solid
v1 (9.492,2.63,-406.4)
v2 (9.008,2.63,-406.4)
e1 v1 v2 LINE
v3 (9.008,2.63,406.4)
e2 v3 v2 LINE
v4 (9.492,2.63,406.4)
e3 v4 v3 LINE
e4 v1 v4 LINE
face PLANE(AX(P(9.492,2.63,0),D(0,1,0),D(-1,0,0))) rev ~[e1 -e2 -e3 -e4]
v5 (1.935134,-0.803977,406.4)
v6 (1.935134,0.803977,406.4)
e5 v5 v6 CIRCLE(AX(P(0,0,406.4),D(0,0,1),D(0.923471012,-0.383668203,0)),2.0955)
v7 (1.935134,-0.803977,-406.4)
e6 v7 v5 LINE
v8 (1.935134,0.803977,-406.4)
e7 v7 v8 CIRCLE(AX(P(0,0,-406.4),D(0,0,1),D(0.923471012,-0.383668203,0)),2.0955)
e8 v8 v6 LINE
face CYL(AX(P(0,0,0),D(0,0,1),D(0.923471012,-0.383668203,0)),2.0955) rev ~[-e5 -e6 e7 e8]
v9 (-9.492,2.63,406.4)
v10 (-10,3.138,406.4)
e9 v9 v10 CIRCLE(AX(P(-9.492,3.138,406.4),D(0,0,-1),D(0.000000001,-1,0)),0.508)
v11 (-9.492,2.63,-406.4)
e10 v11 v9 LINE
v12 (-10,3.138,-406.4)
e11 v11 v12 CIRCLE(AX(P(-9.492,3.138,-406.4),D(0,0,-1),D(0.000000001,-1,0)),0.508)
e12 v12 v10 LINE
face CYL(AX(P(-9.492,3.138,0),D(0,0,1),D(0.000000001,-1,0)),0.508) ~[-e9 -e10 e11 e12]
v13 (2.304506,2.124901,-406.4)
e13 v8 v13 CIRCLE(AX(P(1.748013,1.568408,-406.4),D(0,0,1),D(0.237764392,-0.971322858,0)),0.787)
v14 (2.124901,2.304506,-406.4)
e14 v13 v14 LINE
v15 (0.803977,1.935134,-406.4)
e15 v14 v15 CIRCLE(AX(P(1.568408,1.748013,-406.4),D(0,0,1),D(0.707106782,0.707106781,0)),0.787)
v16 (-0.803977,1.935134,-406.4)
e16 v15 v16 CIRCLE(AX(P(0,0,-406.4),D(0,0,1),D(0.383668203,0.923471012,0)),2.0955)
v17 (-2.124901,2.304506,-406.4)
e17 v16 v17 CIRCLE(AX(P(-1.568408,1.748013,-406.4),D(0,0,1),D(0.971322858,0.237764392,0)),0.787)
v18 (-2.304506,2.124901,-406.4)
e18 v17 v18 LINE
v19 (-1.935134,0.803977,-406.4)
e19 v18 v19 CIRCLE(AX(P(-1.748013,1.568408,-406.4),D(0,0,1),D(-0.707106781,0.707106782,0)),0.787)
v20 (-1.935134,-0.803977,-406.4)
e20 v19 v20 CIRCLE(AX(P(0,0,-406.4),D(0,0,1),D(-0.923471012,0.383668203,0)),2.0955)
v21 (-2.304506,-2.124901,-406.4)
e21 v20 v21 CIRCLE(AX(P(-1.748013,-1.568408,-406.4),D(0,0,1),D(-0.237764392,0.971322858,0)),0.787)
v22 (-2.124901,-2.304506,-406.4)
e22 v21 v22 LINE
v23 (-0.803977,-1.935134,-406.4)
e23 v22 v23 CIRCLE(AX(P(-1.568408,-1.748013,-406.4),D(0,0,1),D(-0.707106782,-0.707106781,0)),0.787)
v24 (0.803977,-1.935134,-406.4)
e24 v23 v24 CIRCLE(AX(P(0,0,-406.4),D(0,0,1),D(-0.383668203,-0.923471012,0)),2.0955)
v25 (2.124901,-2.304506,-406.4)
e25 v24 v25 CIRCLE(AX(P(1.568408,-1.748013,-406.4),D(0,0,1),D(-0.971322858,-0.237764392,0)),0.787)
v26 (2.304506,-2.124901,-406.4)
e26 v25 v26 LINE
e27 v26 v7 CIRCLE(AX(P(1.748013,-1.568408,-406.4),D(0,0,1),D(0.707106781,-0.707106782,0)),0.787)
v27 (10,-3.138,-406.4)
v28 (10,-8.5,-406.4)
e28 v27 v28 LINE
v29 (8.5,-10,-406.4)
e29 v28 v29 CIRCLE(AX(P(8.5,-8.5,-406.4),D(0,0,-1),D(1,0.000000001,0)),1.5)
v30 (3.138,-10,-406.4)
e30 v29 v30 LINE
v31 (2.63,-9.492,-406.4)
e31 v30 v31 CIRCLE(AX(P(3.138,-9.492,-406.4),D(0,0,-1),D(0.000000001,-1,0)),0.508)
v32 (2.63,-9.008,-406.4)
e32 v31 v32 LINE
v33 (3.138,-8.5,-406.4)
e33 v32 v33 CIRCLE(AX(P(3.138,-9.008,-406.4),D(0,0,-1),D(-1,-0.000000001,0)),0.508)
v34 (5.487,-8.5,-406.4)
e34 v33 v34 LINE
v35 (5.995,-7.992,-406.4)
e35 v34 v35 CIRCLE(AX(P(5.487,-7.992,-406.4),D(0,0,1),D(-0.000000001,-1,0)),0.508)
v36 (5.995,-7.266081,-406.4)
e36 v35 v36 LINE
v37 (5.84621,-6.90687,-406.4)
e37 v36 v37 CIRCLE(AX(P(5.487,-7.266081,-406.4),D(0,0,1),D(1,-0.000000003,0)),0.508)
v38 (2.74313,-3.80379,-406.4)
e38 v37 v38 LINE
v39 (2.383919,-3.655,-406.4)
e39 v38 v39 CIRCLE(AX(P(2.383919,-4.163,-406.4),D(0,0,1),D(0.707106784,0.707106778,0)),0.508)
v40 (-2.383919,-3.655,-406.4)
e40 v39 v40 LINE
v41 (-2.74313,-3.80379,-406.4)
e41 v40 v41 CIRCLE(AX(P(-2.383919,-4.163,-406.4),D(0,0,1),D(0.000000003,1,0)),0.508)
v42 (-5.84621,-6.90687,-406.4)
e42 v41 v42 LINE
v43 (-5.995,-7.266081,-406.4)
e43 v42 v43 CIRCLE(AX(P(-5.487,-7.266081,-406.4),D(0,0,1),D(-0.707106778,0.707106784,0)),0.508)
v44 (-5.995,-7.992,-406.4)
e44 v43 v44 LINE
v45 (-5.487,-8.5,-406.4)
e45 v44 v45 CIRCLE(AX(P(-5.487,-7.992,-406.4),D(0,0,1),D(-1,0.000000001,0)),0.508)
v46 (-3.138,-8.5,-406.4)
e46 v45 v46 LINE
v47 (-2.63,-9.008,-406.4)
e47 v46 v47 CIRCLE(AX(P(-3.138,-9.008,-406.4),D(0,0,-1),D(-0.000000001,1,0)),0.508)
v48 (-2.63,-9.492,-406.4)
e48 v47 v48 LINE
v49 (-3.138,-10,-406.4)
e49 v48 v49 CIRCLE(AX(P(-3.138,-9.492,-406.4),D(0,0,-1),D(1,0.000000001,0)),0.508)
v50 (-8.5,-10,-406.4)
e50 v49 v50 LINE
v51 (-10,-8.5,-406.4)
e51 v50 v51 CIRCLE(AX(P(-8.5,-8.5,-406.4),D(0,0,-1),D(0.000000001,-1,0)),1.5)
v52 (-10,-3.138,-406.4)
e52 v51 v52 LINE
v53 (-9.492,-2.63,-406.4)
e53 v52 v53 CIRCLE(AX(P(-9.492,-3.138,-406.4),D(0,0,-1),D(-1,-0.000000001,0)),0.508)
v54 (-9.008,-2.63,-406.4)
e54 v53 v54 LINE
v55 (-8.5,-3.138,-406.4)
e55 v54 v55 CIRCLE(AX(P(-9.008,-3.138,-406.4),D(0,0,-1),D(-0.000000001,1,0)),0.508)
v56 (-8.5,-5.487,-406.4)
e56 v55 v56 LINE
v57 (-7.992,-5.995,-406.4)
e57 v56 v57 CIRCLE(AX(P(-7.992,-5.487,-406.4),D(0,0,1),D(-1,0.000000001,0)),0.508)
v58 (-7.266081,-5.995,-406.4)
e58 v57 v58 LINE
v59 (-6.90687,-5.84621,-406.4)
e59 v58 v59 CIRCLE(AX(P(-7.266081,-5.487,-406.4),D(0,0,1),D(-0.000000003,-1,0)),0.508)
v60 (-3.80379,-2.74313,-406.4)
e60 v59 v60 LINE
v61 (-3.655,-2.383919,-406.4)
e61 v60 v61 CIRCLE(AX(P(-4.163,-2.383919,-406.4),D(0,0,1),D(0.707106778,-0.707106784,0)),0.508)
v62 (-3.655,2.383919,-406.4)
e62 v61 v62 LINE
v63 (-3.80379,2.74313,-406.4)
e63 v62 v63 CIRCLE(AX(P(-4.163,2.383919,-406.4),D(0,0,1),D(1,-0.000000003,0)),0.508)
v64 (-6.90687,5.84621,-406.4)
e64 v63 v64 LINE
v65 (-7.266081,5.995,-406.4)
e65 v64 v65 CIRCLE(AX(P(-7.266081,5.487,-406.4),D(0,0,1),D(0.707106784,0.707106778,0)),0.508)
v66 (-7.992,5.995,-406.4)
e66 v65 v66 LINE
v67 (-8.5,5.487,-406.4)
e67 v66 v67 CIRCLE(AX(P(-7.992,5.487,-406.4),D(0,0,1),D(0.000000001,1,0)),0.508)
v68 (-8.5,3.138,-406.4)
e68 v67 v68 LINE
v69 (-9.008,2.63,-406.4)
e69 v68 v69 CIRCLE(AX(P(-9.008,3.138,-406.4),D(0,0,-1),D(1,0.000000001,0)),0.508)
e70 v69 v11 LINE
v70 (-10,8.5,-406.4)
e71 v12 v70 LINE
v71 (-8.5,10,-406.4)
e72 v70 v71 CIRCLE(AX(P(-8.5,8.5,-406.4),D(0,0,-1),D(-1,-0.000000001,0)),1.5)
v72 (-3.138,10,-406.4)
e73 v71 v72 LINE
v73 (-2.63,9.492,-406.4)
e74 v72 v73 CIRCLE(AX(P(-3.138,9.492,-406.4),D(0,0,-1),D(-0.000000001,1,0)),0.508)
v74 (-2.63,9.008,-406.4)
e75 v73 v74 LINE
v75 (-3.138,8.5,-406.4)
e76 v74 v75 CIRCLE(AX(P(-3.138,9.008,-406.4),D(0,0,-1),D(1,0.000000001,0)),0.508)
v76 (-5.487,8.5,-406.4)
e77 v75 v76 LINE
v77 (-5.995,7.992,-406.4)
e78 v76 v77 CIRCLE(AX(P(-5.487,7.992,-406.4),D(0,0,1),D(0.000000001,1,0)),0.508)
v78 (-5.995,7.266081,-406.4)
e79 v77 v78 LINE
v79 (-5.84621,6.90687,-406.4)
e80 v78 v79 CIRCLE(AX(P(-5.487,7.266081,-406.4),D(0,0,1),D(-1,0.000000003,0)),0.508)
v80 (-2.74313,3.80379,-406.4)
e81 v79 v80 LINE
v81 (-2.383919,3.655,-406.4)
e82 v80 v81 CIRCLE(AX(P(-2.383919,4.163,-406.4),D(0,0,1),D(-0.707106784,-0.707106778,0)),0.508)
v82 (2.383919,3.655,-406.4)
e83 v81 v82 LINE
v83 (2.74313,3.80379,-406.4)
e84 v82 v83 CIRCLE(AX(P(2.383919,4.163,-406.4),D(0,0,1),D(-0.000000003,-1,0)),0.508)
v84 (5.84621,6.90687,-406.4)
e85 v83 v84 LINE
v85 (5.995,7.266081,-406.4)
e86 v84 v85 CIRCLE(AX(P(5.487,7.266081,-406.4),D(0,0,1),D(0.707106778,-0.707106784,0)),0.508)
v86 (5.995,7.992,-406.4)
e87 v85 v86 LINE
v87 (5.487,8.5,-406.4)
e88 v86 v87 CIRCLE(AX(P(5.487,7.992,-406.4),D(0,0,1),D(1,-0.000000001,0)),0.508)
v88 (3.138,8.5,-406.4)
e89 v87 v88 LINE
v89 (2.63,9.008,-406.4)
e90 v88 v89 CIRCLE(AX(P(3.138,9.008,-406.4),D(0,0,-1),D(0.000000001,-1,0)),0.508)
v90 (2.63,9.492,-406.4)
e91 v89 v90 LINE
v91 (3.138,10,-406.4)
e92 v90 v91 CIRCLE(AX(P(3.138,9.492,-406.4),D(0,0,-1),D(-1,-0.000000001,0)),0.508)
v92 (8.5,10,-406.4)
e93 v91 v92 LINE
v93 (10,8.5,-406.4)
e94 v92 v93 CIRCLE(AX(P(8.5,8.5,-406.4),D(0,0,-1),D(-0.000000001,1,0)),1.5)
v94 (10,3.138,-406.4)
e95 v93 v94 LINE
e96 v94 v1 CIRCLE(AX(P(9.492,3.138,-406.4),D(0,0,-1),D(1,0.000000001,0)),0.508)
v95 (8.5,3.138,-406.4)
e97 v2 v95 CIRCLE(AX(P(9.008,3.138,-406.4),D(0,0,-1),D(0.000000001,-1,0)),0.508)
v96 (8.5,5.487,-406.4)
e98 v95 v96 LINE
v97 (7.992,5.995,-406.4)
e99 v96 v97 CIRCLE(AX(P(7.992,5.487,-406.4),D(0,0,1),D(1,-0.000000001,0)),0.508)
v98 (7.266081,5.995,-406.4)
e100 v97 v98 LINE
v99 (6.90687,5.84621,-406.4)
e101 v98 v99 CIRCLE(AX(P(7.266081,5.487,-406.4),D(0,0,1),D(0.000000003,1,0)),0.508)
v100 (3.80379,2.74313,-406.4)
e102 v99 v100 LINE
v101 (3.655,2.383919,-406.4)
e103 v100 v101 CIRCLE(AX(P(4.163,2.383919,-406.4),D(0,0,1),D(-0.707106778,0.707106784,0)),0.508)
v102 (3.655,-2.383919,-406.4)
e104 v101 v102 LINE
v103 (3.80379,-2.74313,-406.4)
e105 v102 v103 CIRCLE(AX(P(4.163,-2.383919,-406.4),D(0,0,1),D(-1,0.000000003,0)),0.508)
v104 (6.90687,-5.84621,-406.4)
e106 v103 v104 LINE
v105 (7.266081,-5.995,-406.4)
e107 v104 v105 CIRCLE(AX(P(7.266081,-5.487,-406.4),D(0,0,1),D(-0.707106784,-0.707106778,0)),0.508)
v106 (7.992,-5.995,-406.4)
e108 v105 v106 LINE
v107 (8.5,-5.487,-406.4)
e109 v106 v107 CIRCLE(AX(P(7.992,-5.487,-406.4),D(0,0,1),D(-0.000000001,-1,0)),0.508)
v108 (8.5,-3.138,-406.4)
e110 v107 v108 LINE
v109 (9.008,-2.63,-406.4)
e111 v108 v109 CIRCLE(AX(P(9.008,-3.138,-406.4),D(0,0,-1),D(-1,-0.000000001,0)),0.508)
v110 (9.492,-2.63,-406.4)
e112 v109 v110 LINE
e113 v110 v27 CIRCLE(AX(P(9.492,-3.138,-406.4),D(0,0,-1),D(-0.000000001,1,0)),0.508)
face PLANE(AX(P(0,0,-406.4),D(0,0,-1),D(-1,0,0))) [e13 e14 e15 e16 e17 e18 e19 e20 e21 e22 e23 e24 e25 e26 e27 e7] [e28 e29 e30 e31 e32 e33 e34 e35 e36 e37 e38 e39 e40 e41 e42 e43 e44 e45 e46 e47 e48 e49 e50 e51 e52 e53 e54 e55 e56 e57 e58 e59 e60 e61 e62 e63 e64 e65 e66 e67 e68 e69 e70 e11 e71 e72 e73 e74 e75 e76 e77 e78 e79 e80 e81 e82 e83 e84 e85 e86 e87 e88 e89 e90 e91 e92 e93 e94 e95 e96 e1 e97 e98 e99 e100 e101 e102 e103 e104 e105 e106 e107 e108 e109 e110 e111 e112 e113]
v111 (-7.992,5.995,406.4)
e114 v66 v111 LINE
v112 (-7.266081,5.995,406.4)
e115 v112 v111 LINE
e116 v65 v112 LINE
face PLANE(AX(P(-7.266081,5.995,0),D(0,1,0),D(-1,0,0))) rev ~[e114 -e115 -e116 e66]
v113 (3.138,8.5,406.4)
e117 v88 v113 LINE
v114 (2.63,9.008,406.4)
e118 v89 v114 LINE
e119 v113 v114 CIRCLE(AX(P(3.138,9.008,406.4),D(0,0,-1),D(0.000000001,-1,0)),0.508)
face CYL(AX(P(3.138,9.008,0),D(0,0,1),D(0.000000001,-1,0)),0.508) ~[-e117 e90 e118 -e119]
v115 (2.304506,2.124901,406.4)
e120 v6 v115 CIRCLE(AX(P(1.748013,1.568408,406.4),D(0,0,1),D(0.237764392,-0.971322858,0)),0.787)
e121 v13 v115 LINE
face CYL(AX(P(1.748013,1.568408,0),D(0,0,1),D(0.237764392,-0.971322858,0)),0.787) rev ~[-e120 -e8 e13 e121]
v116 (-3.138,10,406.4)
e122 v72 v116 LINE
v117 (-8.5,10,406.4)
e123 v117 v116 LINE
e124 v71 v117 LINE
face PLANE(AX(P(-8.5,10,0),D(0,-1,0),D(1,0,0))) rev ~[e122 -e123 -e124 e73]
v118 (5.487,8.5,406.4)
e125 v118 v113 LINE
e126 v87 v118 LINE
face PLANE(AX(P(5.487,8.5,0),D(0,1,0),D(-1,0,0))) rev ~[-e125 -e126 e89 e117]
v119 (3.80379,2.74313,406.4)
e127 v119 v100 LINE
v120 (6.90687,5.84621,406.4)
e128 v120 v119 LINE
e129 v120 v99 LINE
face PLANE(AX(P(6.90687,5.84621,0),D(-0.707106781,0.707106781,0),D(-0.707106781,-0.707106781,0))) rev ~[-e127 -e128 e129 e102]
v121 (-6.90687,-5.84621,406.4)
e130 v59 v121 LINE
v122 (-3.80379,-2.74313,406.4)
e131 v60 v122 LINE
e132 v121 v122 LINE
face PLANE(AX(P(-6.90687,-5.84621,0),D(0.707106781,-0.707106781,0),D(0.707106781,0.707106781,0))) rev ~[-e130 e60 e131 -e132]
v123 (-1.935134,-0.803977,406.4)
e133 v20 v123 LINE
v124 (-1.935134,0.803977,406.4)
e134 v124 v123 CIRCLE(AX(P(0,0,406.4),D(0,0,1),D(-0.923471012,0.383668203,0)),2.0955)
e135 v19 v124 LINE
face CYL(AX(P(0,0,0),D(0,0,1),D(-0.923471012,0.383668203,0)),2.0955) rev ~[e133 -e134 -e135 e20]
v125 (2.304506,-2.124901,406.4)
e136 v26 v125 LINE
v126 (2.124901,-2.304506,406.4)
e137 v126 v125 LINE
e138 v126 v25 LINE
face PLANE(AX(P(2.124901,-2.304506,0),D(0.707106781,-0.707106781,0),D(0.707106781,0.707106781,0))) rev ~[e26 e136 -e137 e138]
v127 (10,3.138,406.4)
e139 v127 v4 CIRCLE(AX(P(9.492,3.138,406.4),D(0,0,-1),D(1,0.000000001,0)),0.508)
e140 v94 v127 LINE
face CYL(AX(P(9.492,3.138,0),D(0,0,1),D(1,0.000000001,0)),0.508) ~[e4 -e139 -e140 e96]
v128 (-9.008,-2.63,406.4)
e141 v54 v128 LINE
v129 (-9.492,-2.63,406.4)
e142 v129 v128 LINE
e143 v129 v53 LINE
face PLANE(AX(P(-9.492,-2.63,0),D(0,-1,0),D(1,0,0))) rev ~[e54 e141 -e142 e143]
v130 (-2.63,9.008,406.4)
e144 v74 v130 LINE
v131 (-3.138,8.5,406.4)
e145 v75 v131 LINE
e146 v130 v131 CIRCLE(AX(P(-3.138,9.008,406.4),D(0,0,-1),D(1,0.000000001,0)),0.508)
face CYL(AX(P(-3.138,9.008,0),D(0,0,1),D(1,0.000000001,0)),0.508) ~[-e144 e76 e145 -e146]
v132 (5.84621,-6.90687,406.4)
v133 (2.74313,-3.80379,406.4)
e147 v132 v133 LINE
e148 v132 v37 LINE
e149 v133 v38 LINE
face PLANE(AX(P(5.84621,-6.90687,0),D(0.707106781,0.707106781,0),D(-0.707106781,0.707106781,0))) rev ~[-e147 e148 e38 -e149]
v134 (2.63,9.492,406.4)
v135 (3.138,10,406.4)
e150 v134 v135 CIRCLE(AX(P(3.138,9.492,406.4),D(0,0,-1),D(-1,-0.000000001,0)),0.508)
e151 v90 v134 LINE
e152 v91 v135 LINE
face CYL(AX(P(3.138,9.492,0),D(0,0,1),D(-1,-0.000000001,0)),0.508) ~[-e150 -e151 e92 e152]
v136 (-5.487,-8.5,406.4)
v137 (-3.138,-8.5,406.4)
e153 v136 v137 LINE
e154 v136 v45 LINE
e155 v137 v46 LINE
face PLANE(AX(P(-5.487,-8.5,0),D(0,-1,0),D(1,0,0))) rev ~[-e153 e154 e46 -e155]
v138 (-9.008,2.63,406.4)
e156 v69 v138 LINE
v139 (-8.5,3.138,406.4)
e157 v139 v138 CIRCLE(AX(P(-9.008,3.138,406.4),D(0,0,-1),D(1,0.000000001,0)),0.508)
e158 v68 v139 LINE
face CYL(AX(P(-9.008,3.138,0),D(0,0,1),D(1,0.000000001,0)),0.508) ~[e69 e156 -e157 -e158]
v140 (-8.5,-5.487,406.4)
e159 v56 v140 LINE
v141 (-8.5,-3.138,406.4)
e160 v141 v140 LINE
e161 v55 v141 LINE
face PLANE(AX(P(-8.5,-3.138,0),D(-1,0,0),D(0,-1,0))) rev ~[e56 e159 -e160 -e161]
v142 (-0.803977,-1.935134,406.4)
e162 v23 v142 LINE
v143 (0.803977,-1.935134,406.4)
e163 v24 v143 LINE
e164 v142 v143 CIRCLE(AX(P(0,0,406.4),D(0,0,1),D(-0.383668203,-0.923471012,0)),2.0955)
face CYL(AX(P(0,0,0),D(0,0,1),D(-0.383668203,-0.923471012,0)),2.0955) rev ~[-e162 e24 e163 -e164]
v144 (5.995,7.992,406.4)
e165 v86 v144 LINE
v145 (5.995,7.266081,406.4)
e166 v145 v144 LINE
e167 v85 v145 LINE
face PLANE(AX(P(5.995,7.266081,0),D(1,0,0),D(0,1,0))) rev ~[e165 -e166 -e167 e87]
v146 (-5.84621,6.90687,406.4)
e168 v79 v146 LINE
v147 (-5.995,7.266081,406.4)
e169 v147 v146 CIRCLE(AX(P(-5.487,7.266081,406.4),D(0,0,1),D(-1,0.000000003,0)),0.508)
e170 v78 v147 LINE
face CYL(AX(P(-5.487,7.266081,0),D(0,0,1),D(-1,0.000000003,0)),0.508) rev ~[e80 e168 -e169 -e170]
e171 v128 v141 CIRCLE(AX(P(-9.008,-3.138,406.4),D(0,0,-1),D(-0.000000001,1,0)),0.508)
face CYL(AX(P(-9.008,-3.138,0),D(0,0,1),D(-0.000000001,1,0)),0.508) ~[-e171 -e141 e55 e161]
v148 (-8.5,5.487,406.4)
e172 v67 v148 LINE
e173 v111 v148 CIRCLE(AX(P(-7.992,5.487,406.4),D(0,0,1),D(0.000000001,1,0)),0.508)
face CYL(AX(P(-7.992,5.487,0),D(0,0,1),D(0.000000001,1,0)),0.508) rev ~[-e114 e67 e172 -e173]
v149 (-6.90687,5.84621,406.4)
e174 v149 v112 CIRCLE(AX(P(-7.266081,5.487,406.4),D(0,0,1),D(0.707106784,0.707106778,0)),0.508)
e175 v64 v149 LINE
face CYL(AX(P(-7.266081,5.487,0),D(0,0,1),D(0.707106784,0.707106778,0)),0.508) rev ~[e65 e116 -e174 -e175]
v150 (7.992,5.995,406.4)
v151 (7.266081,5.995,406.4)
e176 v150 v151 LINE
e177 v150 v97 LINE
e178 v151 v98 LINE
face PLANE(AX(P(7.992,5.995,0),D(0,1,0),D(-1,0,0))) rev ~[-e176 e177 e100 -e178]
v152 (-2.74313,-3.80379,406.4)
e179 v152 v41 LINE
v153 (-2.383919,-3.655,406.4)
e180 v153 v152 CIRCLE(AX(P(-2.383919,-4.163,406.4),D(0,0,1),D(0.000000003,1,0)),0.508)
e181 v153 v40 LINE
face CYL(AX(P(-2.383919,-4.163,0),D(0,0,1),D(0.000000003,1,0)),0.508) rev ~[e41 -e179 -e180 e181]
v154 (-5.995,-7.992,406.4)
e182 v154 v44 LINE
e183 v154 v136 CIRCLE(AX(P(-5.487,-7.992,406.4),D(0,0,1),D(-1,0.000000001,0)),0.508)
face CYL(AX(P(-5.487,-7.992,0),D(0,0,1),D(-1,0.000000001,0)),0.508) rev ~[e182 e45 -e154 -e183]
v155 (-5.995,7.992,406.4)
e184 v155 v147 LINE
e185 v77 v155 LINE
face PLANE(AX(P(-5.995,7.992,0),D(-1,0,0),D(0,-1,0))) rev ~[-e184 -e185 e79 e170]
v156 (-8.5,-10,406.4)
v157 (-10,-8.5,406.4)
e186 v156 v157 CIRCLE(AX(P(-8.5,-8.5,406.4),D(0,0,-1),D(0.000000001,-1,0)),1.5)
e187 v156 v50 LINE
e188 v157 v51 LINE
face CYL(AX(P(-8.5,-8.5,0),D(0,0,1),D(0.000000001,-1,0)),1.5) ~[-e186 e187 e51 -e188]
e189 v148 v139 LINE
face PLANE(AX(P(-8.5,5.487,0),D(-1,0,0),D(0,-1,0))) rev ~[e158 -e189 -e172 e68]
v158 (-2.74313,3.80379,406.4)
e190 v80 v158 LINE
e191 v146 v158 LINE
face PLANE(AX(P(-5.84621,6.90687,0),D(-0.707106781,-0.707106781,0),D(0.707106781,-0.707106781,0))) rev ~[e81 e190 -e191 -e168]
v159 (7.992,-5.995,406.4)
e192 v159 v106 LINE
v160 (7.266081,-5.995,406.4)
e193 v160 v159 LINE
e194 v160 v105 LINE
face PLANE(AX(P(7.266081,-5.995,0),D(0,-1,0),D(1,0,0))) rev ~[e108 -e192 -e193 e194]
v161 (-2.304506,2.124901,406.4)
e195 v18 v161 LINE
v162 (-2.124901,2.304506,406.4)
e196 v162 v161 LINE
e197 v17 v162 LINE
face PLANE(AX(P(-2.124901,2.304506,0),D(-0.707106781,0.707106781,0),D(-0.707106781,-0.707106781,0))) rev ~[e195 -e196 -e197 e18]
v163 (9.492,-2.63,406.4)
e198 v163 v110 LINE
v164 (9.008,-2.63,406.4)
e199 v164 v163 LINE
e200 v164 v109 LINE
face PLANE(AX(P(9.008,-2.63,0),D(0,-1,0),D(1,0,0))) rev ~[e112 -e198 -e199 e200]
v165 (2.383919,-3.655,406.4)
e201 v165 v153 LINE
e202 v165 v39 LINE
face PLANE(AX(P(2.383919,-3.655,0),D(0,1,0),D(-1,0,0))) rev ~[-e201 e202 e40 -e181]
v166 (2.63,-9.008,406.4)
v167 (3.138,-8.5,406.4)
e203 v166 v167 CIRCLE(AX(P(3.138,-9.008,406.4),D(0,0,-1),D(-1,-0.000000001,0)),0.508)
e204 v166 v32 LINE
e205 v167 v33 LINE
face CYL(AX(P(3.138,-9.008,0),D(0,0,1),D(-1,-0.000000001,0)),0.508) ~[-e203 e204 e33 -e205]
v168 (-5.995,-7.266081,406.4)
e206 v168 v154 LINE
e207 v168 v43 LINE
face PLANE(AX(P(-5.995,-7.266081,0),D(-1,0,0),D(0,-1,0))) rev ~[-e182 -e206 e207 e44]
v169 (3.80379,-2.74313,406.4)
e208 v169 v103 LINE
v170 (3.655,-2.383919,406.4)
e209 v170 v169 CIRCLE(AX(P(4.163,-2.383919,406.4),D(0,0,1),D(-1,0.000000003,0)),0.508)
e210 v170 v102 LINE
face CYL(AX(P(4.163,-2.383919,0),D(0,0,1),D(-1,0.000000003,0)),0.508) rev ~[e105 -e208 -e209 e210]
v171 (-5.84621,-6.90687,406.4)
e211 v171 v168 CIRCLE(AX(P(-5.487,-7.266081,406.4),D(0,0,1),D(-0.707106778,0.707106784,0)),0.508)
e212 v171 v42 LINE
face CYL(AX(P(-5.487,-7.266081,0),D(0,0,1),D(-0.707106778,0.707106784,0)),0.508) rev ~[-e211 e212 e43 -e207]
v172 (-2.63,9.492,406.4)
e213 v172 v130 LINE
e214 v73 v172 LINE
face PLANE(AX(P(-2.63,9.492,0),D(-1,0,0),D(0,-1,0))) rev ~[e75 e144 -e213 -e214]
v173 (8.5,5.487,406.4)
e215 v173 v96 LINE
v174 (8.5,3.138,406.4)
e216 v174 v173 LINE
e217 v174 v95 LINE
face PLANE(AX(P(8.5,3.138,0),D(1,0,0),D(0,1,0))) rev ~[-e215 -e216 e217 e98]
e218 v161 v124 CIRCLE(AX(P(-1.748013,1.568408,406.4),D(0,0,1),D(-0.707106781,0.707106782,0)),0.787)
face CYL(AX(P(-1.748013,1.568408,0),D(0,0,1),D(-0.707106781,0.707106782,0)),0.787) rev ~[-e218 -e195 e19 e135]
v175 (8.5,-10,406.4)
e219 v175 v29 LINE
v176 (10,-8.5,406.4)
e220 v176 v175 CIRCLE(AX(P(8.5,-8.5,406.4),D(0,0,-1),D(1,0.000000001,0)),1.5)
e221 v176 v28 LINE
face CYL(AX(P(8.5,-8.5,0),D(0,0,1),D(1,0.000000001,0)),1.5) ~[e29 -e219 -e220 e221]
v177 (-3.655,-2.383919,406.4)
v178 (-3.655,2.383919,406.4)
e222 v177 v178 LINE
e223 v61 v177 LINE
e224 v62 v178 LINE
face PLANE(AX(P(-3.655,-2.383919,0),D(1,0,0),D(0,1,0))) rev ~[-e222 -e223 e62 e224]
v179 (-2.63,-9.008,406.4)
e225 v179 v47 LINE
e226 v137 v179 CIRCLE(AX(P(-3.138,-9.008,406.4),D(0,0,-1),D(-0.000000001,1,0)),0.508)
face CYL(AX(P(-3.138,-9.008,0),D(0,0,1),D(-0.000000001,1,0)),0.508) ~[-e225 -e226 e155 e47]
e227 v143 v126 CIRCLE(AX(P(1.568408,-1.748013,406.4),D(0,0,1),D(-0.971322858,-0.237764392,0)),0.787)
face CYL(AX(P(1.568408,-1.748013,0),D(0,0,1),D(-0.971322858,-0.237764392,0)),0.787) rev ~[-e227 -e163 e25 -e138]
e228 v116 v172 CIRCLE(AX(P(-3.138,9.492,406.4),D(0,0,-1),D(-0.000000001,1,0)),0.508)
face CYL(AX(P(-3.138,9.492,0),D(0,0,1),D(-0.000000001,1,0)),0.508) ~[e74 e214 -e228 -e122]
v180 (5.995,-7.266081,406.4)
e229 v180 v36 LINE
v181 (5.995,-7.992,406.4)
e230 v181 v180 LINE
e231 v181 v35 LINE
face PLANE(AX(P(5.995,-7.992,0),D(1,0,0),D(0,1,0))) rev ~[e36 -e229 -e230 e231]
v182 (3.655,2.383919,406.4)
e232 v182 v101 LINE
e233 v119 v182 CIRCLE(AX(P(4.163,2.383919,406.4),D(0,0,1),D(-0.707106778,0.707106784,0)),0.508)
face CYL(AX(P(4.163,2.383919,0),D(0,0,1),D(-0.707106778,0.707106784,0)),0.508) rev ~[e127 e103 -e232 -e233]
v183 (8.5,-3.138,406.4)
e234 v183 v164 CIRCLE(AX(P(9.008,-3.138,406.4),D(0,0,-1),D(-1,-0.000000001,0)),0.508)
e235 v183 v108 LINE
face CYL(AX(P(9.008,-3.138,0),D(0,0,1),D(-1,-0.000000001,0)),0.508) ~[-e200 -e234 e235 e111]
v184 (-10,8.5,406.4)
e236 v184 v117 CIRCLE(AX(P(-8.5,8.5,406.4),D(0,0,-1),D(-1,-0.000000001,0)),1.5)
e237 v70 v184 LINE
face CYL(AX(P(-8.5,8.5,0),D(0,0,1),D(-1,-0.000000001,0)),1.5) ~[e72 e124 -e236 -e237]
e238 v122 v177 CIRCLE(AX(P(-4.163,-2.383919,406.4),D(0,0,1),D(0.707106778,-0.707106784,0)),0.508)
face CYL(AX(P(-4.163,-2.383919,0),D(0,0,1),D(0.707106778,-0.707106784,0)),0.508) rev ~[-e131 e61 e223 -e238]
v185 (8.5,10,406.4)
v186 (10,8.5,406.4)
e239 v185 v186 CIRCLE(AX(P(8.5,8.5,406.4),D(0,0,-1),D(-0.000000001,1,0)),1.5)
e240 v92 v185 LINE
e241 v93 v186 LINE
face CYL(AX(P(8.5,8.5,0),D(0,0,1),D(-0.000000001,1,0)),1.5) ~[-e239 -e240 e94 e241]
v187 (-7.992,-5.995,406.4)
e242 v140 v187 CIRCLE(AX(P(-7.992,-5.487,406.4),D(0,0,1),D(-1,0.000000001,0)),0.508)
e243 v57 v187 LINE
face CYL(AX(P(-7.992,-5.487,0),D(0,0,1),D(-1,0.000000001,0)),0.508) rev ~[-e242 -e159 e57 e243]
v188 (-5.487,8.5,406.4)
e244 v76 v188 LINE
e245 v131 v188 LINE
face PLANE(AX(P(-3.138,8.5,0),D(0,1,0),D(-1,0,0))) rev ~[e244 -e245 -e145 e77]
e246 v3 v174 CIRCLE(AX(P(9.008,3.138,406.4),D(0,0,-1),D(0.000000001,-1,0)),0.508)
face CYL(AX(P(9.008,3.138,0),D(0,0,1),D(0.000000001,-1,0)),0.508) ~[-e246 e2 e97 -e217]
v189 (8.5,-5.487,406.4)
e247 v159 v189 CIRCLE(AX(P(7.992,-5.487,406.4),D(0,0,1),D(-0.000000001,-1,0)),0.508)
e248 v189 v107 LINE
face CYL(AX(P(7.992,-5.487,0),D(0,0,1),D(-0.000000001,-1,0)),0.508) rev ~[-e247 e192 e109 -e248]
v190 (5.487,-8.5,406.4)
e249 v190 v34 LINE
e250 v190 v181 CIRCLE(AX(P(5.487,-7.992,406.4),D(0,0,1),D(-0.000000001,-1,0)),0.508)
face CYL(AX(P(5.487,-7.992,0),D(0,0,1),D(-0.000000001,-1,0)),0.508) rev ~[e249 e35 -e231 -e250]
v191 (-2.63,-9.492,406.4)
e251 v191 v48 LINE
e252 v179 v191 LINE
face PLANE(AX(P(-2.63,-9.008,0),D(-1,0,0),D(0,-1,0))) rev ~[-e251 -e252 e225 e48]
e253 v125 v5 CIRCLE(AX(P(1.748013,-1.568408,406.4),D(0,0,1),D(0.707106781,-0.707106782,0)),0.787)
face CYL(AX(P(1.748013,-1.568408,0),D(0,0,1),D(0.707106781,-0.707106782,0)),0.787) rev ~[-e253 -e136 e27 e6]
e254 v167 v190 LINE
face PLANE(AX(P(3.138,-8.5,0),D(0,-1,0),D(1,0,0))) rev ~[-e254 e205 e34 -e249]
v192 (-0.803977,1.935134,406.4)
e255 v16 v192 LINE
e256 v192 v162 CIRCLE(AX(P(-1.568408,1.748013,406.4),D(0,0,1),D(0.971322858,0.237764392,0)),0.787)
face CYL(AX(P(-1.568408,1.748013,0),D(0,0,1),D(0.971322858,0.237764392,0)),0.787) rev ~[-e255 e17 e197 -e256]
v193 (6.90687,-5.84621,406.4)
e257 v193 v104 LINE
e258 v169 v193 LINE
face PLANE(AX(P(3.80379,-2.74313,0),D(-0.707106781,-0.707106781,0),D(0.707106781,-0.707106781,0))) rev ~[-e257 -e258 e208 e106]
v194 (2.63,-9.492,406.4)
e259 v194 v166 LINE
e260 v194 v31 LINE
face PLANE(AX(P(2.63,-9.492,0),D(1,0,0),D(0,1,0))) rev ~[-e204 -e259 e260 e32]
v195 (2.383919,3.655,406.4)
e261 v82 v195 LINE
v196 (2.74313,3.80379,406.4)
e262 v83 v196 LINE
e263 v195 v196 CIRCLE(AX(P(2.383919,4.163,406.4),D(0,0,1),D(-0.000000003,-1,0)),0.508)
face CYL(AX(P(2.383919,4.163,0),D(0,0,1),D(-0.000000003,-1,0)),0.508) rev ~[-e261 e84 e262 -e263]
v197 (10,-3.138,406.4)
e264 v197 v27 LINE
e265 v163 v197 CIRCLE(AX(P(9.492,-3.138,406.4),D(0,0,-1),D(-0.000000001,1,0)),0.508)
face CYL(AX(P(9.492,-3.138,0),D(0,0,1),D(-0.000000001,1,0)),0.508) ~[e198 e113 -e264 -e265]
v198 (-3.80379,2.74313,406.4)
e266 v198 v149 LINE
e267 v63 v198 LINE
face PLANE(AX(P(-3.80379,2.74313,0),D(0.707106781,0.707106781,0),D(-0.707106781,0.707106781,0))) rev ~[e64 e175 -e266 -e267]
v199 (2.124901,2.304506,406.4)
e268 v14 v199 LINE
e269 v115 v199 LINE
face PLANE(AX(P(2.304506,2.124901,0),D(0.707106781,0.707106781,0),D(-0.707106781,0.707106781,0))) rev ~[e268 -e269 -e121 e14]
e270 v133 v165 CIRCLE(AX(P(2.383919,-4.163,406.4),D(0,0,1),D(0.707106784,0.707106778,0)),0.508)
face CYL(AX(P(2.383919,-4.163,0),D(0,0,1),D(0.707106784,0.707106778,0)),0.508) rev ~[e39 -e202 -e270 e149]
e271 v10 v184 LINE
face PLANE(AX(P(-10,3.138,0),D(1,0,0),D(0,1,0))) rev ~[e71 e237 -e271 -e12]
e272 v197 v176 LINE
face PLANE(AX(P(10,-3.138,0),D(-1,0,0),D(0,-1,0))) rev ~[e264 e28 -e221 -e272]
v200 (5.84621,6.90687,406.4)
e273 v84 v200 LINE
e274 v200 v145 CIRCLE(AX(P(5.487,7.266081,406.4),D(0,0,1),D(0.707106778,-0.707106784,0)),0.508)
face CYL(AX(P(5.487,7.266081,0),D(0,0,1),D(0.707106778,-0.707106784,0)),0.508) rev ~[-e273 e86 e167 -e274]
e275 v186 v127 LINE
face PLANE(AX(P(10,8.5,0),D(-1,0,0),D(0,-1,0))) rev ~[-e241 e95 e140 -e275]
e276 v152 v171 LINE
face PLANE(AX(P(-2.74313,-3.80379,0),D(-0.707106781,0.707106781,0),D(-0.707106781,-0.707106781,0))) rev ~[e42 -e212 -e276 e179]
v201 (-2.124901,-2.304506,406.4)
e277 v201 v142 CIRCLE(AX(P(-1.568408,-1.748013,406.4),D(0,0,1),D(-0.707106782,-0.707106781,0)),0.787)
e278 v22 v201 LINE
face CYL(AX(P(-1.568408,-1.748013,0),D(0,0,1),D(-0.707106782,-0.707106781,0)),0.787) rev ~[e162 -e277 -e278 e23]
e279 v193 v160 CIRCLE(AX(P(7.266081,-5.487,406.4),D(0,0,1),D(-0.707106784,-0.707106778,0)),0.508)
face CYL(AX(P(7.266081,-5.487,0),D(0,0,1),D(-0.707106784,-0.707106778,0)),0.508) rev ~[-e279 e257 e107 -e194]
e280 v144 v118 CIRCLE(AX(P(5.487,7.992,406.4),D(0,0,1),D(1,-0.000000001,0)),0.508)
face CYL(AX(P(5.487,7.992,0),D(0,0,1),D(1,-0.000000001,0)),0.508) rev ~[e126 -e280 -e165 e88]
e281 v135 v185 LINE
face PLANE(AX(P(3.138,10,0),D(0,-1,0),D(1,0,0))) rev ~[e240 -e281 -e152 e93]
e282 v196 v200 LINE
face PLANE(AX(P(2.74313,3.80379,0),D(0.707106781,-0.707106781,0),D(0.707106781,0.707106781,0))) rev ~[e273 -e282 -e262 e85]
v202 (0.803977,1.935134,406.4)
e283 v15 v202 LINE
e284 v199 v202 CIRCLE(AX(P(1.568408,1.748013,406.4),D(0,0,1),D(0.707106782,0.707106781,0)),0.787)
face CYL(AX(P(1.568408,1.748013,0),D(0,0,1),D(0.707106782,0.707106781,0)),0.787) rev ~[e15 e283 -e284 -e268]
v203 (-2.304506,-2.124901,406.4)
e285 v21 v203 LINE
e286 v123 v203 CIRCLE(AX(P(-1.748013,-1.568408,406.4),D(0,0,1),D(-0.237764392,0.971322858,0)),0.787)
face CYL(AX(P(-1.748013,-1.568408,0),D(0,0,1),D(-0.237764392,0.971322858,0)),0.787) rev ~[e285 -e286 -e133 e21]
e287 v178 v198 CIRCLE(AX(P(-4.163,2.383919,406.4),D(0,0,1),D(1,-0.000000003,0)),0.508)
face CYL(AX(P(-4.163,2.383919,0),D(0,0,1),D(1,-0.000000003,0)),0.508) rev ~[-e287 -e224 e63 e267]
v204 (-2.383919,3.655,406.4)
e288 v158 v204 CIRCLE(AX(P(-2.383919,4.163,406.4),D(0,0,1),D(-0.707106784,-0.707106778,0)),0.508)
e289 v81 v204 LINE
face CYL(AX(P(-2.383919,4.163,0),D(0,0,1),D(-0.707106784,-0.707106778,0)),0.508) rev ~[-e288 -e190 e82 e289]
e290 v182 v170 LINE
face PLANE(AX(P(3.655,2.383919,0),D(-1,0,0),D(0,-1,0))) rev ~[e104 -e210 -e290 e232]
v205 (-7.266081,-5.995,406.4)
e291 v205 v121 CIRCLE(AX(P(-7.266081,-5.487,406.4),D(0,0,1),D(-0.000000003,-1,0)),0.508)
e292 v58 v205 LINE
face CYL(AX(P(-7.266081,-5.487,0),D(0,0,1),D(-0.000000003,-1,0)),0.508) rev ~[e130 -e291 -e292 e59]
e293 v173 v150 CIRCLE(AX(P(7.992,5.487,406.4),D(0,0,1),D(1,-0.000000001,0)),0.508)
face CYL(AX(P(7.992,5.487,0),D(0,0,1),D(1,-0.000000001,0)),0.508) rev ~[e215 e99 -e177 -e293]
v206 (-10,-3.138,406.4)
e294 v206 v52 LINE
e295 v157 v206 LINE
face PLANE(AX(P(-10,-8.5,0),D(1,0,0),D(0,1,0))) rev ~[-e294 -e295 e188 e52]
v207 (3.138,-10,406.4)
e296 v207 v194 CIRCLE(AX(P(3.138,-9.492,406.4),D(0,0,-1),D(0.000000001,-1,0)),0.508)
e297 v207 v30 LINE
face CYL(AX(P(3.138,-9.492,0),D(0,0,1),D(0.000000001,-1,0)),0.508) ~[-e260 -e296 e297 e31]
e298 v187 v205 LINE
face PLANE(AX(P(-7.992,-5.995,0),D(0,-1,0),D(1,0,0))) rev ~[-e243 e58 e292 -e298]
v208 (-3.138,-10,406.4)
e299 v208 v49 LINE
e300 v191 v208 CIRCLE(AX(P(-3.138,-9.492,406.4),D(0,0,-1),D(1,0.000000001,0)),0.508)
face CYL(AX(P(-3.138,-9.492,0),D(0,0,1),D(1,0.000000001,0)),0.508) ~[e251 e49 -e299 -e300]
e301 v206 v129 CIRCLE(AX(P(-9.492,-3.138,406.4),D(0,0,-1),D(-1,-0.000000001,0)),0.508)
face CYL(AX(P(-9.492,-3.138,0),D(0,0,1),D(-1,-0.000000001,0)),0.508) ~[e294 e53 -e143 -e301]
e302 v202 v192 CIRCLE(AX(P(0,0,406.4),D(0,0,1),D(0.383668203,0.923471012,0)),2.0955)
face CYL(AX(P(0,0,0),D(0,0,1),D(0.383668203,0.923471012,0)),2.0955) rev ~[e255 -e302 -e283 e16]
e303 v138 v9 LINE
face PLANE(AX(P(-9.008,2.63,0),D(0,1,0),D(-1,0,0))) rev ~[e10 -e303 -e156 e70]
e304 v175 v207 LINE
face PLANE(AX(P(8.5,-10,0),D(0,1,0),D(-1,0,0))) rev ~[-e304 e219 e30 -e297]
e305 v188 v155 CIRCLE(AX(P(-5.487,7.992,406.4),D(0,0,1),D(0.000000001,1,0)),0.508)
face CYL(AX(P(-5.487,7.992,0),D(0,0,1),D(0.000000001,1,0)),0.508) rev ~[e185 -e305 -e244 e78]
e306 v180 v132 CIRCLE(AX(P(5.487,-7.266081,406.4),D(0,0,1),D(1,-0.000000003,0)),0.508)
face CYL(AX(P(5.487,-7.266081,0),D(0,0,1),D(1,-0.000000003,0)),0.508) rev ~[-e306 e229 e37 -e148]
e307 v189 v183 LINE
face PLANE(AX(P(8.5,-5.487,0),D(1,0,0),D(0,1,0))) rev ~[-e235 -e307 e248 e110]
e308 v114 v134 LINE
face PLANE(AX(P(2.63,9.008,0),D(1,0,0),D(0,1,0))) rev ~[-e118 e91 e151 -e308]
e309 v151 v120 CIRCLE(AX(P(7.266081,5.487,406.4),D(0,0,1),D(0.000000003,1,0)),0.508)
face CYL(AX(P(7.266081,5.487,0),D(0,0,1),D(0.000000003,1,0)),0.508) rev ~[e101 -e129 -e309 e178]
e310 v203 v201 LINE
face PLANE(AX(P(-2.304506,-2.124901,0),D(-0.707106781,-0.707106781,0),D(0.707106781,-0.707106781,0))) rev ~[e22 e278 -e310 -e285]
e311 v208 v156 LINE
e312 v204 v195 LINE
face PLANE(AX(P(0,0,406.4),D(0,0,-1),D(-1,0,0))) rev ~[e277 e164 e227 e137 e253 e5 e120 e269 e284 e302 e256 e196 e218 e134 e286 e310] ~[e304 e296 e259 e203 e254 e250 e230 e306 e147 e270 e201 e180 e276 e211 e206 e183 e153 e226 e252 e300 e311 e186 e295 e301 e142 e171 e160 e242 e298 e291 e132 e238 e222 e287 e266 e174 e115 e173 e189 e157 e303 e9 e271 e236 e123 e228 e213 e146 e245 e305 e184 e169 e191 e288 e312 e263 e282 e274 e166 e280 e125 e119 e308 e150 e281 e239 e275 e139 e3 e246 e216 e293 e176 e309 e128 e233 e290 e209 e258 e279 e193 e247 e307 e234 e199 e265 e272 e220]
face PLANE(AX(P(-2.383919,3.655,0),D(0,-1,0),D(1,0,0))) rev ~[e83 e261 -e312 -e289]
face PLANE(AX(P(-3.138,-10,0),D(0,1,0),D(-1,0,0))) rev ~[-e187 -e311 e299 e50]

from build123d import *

# Parameters (mm, degrees)
EXTRUDE1_DEPTH = 406.4


with BuildPart() as part:
    # Sketch1 → Extrude1 (new body, symmetric)
    with BuildSketch(Plane.XY):
        with BuildLine():
            Line((9.492, 2.63), (9.008, 2.63))
            ThreePointArc((9.008, 2.63), (8.648789755, 2.778789755), (8.5, 3.138))
            Line((8.5, 3.138), (8.5, 5.487))
            ThreePointArc((8.5, 5.487), (8.351210245, 5.846210245), (7.992, 5.995))
            Line((7.992, 5.995), (7.266080661, 5.995))
            ThreePointArc((7.266080661, 5.995), (7.071677478, 5.956330803), (6.906870417, 5.846210245))
            Line((6.906870417, 5.846210245), (3.803789755, 2.743129583))
            ThreePointArc((3.803789755, 2.743129583), (3.693669197, 2.578322522), (3.655, 2.383919339))
            Line((3.655, 2.383919339), (3.655, -2.383919339))
            ThreePointArc((3.655, -2.383919339), (3.693669197, -2.578322522), (3.803789755, -2.743129583))
            Line((3.803789755, -2.743129583), (6.906870417, -5.846210245))
            ThreePointArc((6.906870417, -5.846210245), (7.071677478, -5.956330803), (7.266080661, -5.995))
            Line((7.266080661, -5.995), (7.992, -5.995))
            ThreePointArc((7.992, -5.995), (8.351210245, -5.846210245), (8.5, -5.487))
            Line((8.5, -5.487), (8.5, -3.138))
            ThreePointArc((8.5, -3.138), (8.648789755, -2.778789755), (9.008, -2.63))
            Line((9.008, -2.63), (9.492, -2.63))
            ThreePointArc((9.492, -2.63), (9.851210245, -2.778789755), (10, -3.138))
            Line((10, -3.138), (10, -8.5))
            ThreePointArc((10, -8.5), (9.560660172, -9.560660172), (8.5, -10))
            Line((8.5, -10), (3.138, -10))
            ThreePointArc((3.138, -10), (2.778789755, -9.851210245), (2.63, -9.492))
            Line((2.63, -9.492), (2.63, -9.008))
            ThreePointArc((2.63, -9.008), (2.778789755, -8.648789755), (3.138, -8.5))
            Line((3.138, -8.5), (5.487, -8.5))
            ThreePointArc((5.487, -8.5), (5.846210245, -8.351210245), (5.995, -7.992))
            Line((5.995, -7.992), (5.995, -7.266080661))
            ThreePointArc((5.995, -7.266080661), (5.956330803, -7.071677478), (5.846210245, -6.906870417))
            Line((5.846210245, -6.906870417), (2.743129583, -3.803789755))
            ThreePointArc((2.743129583, -3.803789755), (2.578322522, -3.693669197), (2.383919339, -3.655))
            Line((2.383919339, -3.655), (-2.383919339, -3.655))
            ThreePointArc((-2.383919339, -3.655), (-2.578322522, -3.693669197), (-2.743129583, -3.803789755))
            Line((-2.743129583, -3.803789755), (-5.846210245, -6.906870417))
            ThreePointArc((-5.846210245, -6.906870417), (-5.956330803, -7.071677478), (-5.995, -7.266080661))
            Line((-5.995, -7.266080661), (-5.995, -7.992))
            ThreePointArc((-5.995, -7.992), (-5.846210245, -8.351210245), (-5.487, -8.5))
            Line((-5.487, -8.5), (-3.138, -8.5))
            ThreePointArc((-3.138, -8.5), (-2.778789755, -8.648789755), (-2.63, -9.008))
            Line((-2.63, -9.008), (-2.63, -9.492))
            ThreePointArc((-2.63, -9.492), (-2.778789755, -9.851210245), (-3.138, -10))
            Line((-3.138, -10), (-8.5, -10))
            ThreePointArc((-8.5, -10), (-9.560660172, -9.560660172), (-10, -8.5))
            Line((-10, -8.5), (-10, -3.138))
            ThreePointArc((-10, -3.138), (-9.851210245, -2.778789755), (-9.492, -2.63))
            Line((-9.492, -2.63), (-9.008, -2.63))
            ThreePointArc((-9.008, -2.63), (-8.648789755, -2.778789755), (-8.5, -3.138))
            Line((-8.5, -3.138), (-8.5, -5.487))
            ThreePointArc((-8.5, -5.487), (-8.351210245, -5.846210245), (-7.992, -5.995))
            Line((-7.992, -5.995), (-7.266080661, -5.995))
            ThreePointArc((-7.266080661, -5.995), (-7.071677478, -5.956330803), (-6.906870417, -5.846210245))
            Line((-6.906870417, -5.846210245), (-3.803789755, -2.743129583))
            ThreePointArc((-3.803789755, -2.743129583), (-3.693669197, -2.578322522), (-3.655, -2.383919339))
            Line((-3.655, -2.383919339), (-3.655, 2.383919339))
            ThreePointArc((-3.655, 2.383919339), (-3.693669197, 2.578322522), (-3.803789755, 2.743129583))
            Line((-3.803789755, 2.743129583), (-6.906870417, 5.846210245))
            ThreePointArc((-6.906870417, 5.846210245), (-7.071677478, 5.956330803), (-7.266080661, 5.995))
            Line((-7.266080661, 5.995), (-7.992, 5.995))
            ThreePointArc((-7.992, 5.995), (-8.351210245, 5.846210245), (-8.5, 5.487))
            Line((-8.5, 5.487), (-8.5, 3.138))
            ThreePointArc((-8.5, 3.138), (-8.648789755, 2.778789755), (-9.008, 2.63))
            Line((-9.008, 2.63), (-9.492, 2.63))
            ThreePointArc((-9.492, 2.63), (-9.851210245, 2.778789755), (-10, 3.138))
            Line((-10, 3.138), (-10, 8.5))
            ThreePointArc((-10, 8.5), (-9.560660172, 9.560660172), (-8.5, 10))
            Line((-8.5, 10), (-3.138, 10))
            ThreePointArc((-3.138, 10), (-2.778789755, 9.851210245), (-2.63, 9.492))
            Line((-2.63, 9.492), (-2.63, 9.008))
            ThreePointArc((-2.63, 9.008), (-2.778789755, 8.648789755), (-3.138, 8.5))
            Line((-3.138, 8.5), (-5.487, 8.5))
            ThreePointArc((-5.487, 8.5), (-5.846210245, 8.351210245), (-5.995, 7.992))
            Line((-5.995, 7.992), (-5.995, 7.266080661))
            ThreePointArc((-5.995, 7.266080661), (-5.956330803, 7.071677478), (-5.846210245, 6.906870417))
            Line((-5.846210245, 6.906870417), (-2.743129583, 3.803789755))
            ThreePointArc((-2.743129583, 3.803789755), (-2.578322522, 3.693669197), (-2.383919339, 3.655))
            Line((-2.383919339, 3.655), (2.383919339, 3.655))
            ThreePointArc((2.383919339, 3.655), (2.578322522, 3.693669197), (2.743129583, 3.803789755))
            Line((2.743129583, 3.803789755), (5.846210245, 6.906870417))
            ThreePointArc((5.846210245, 6.906870417), (5.956330803, 7.071677478), (5.995, 7.266080661))
            Line((5.995, 7.266080661), (5.995, 7.992))
            ThreePointArc((5.995, 7.992), (5.846210245, 8.351210245), (5.487, 8.5))
            Line((5.487, 8.5), (3.138, 8.5))
            ThreePointArc((3.138, 8.5), (2.778789755, 8.648789755), (2.63, 9.008))
            Line((2.63, 9.008), (2.63, 9.492))
            ThreePointArc((2.63, 9.492), (2.778789755, 9.851210245), (3.138, 10))
            Line((3.138, 10), (8.5, 10))
            ThreePointArc((8.5, 10), (9.560660172, 9.560660172), (10, 8.5))
            Line((10, 8.5), (10, 3.138))
            ThreePointArc((10, 3.138), (9.851210245, 2.778789755), (9.492, 2.63))
        make_face()
        with BuildLine():
            Line((2.124900844, -2.304505966), (2.304505966, -2.124900844))
            ThreePointArc((2.304505966, -2.124900844), (2.505938017, -1.356467811), (1.935133506, -0.803976718))
            ThreePointArc((1.935133506, -0.803976718), (2.0955, 0), (1.935133506, 0.803976718))
            ThreePointArc((1.935133506, 0.803976718), (2.505938017, 1.356467811), (2.304505966, 2.124900844))
            Line((2.304505966, 2.124900844), (2.124900844, 2.304505966))
            ThreePointArc((2.124900844, 2.304505966), (1.356467811, 2.505938017), (0.803976718, 1.935133506))
            ThreePointArc((0.803976718, 1.935133506), (0, 2.0955), (-0.803976718, 1.935133506))
            ThreePointArc((-0.803976718, 1.935133506), (-1.356467811, 2.505938017), (-2.124900844, 2.304505966))
            Line((-2.124900844, 2.304505966), (-2.304505966, 2.124900844))
            ThreePointArc((-2.304505966, 2.124900844), (-2.505938017, 1.356467811), (-1.935133506, 0.803976718))
            ThreePointArc((-1.935133506, 0.803976718), (-2.0955, 0), (-1.935133506, -0.803976718))
            ThreePointArc((-1.935133506, -0.803976718), (-2.505938017, -1.356467811), (-2.304505966, -2.124900844))
            Line((-2.304505966, -2.124900844), (-2.124900844, -2.304505966))
            ThreePointArc((-2.124900844, -2.304505966), (-1.356467811, -2.505938017), (-0.803976718, -1.935133506))
            ThreePointArc((-0.803976718, -1.935133506), (0, -2.0955), (0.803976718, -1.935133506))
            ThreePointArc((0.803976718, -1.935133506), (1.356467811, -2.505938017), (2.124900844, -2.304505966))
        make_face(mode=Mode.SUBTRACT)
    extrude(amount=EXTRUDE1_DEPTH, both=True)


solid = part.part
